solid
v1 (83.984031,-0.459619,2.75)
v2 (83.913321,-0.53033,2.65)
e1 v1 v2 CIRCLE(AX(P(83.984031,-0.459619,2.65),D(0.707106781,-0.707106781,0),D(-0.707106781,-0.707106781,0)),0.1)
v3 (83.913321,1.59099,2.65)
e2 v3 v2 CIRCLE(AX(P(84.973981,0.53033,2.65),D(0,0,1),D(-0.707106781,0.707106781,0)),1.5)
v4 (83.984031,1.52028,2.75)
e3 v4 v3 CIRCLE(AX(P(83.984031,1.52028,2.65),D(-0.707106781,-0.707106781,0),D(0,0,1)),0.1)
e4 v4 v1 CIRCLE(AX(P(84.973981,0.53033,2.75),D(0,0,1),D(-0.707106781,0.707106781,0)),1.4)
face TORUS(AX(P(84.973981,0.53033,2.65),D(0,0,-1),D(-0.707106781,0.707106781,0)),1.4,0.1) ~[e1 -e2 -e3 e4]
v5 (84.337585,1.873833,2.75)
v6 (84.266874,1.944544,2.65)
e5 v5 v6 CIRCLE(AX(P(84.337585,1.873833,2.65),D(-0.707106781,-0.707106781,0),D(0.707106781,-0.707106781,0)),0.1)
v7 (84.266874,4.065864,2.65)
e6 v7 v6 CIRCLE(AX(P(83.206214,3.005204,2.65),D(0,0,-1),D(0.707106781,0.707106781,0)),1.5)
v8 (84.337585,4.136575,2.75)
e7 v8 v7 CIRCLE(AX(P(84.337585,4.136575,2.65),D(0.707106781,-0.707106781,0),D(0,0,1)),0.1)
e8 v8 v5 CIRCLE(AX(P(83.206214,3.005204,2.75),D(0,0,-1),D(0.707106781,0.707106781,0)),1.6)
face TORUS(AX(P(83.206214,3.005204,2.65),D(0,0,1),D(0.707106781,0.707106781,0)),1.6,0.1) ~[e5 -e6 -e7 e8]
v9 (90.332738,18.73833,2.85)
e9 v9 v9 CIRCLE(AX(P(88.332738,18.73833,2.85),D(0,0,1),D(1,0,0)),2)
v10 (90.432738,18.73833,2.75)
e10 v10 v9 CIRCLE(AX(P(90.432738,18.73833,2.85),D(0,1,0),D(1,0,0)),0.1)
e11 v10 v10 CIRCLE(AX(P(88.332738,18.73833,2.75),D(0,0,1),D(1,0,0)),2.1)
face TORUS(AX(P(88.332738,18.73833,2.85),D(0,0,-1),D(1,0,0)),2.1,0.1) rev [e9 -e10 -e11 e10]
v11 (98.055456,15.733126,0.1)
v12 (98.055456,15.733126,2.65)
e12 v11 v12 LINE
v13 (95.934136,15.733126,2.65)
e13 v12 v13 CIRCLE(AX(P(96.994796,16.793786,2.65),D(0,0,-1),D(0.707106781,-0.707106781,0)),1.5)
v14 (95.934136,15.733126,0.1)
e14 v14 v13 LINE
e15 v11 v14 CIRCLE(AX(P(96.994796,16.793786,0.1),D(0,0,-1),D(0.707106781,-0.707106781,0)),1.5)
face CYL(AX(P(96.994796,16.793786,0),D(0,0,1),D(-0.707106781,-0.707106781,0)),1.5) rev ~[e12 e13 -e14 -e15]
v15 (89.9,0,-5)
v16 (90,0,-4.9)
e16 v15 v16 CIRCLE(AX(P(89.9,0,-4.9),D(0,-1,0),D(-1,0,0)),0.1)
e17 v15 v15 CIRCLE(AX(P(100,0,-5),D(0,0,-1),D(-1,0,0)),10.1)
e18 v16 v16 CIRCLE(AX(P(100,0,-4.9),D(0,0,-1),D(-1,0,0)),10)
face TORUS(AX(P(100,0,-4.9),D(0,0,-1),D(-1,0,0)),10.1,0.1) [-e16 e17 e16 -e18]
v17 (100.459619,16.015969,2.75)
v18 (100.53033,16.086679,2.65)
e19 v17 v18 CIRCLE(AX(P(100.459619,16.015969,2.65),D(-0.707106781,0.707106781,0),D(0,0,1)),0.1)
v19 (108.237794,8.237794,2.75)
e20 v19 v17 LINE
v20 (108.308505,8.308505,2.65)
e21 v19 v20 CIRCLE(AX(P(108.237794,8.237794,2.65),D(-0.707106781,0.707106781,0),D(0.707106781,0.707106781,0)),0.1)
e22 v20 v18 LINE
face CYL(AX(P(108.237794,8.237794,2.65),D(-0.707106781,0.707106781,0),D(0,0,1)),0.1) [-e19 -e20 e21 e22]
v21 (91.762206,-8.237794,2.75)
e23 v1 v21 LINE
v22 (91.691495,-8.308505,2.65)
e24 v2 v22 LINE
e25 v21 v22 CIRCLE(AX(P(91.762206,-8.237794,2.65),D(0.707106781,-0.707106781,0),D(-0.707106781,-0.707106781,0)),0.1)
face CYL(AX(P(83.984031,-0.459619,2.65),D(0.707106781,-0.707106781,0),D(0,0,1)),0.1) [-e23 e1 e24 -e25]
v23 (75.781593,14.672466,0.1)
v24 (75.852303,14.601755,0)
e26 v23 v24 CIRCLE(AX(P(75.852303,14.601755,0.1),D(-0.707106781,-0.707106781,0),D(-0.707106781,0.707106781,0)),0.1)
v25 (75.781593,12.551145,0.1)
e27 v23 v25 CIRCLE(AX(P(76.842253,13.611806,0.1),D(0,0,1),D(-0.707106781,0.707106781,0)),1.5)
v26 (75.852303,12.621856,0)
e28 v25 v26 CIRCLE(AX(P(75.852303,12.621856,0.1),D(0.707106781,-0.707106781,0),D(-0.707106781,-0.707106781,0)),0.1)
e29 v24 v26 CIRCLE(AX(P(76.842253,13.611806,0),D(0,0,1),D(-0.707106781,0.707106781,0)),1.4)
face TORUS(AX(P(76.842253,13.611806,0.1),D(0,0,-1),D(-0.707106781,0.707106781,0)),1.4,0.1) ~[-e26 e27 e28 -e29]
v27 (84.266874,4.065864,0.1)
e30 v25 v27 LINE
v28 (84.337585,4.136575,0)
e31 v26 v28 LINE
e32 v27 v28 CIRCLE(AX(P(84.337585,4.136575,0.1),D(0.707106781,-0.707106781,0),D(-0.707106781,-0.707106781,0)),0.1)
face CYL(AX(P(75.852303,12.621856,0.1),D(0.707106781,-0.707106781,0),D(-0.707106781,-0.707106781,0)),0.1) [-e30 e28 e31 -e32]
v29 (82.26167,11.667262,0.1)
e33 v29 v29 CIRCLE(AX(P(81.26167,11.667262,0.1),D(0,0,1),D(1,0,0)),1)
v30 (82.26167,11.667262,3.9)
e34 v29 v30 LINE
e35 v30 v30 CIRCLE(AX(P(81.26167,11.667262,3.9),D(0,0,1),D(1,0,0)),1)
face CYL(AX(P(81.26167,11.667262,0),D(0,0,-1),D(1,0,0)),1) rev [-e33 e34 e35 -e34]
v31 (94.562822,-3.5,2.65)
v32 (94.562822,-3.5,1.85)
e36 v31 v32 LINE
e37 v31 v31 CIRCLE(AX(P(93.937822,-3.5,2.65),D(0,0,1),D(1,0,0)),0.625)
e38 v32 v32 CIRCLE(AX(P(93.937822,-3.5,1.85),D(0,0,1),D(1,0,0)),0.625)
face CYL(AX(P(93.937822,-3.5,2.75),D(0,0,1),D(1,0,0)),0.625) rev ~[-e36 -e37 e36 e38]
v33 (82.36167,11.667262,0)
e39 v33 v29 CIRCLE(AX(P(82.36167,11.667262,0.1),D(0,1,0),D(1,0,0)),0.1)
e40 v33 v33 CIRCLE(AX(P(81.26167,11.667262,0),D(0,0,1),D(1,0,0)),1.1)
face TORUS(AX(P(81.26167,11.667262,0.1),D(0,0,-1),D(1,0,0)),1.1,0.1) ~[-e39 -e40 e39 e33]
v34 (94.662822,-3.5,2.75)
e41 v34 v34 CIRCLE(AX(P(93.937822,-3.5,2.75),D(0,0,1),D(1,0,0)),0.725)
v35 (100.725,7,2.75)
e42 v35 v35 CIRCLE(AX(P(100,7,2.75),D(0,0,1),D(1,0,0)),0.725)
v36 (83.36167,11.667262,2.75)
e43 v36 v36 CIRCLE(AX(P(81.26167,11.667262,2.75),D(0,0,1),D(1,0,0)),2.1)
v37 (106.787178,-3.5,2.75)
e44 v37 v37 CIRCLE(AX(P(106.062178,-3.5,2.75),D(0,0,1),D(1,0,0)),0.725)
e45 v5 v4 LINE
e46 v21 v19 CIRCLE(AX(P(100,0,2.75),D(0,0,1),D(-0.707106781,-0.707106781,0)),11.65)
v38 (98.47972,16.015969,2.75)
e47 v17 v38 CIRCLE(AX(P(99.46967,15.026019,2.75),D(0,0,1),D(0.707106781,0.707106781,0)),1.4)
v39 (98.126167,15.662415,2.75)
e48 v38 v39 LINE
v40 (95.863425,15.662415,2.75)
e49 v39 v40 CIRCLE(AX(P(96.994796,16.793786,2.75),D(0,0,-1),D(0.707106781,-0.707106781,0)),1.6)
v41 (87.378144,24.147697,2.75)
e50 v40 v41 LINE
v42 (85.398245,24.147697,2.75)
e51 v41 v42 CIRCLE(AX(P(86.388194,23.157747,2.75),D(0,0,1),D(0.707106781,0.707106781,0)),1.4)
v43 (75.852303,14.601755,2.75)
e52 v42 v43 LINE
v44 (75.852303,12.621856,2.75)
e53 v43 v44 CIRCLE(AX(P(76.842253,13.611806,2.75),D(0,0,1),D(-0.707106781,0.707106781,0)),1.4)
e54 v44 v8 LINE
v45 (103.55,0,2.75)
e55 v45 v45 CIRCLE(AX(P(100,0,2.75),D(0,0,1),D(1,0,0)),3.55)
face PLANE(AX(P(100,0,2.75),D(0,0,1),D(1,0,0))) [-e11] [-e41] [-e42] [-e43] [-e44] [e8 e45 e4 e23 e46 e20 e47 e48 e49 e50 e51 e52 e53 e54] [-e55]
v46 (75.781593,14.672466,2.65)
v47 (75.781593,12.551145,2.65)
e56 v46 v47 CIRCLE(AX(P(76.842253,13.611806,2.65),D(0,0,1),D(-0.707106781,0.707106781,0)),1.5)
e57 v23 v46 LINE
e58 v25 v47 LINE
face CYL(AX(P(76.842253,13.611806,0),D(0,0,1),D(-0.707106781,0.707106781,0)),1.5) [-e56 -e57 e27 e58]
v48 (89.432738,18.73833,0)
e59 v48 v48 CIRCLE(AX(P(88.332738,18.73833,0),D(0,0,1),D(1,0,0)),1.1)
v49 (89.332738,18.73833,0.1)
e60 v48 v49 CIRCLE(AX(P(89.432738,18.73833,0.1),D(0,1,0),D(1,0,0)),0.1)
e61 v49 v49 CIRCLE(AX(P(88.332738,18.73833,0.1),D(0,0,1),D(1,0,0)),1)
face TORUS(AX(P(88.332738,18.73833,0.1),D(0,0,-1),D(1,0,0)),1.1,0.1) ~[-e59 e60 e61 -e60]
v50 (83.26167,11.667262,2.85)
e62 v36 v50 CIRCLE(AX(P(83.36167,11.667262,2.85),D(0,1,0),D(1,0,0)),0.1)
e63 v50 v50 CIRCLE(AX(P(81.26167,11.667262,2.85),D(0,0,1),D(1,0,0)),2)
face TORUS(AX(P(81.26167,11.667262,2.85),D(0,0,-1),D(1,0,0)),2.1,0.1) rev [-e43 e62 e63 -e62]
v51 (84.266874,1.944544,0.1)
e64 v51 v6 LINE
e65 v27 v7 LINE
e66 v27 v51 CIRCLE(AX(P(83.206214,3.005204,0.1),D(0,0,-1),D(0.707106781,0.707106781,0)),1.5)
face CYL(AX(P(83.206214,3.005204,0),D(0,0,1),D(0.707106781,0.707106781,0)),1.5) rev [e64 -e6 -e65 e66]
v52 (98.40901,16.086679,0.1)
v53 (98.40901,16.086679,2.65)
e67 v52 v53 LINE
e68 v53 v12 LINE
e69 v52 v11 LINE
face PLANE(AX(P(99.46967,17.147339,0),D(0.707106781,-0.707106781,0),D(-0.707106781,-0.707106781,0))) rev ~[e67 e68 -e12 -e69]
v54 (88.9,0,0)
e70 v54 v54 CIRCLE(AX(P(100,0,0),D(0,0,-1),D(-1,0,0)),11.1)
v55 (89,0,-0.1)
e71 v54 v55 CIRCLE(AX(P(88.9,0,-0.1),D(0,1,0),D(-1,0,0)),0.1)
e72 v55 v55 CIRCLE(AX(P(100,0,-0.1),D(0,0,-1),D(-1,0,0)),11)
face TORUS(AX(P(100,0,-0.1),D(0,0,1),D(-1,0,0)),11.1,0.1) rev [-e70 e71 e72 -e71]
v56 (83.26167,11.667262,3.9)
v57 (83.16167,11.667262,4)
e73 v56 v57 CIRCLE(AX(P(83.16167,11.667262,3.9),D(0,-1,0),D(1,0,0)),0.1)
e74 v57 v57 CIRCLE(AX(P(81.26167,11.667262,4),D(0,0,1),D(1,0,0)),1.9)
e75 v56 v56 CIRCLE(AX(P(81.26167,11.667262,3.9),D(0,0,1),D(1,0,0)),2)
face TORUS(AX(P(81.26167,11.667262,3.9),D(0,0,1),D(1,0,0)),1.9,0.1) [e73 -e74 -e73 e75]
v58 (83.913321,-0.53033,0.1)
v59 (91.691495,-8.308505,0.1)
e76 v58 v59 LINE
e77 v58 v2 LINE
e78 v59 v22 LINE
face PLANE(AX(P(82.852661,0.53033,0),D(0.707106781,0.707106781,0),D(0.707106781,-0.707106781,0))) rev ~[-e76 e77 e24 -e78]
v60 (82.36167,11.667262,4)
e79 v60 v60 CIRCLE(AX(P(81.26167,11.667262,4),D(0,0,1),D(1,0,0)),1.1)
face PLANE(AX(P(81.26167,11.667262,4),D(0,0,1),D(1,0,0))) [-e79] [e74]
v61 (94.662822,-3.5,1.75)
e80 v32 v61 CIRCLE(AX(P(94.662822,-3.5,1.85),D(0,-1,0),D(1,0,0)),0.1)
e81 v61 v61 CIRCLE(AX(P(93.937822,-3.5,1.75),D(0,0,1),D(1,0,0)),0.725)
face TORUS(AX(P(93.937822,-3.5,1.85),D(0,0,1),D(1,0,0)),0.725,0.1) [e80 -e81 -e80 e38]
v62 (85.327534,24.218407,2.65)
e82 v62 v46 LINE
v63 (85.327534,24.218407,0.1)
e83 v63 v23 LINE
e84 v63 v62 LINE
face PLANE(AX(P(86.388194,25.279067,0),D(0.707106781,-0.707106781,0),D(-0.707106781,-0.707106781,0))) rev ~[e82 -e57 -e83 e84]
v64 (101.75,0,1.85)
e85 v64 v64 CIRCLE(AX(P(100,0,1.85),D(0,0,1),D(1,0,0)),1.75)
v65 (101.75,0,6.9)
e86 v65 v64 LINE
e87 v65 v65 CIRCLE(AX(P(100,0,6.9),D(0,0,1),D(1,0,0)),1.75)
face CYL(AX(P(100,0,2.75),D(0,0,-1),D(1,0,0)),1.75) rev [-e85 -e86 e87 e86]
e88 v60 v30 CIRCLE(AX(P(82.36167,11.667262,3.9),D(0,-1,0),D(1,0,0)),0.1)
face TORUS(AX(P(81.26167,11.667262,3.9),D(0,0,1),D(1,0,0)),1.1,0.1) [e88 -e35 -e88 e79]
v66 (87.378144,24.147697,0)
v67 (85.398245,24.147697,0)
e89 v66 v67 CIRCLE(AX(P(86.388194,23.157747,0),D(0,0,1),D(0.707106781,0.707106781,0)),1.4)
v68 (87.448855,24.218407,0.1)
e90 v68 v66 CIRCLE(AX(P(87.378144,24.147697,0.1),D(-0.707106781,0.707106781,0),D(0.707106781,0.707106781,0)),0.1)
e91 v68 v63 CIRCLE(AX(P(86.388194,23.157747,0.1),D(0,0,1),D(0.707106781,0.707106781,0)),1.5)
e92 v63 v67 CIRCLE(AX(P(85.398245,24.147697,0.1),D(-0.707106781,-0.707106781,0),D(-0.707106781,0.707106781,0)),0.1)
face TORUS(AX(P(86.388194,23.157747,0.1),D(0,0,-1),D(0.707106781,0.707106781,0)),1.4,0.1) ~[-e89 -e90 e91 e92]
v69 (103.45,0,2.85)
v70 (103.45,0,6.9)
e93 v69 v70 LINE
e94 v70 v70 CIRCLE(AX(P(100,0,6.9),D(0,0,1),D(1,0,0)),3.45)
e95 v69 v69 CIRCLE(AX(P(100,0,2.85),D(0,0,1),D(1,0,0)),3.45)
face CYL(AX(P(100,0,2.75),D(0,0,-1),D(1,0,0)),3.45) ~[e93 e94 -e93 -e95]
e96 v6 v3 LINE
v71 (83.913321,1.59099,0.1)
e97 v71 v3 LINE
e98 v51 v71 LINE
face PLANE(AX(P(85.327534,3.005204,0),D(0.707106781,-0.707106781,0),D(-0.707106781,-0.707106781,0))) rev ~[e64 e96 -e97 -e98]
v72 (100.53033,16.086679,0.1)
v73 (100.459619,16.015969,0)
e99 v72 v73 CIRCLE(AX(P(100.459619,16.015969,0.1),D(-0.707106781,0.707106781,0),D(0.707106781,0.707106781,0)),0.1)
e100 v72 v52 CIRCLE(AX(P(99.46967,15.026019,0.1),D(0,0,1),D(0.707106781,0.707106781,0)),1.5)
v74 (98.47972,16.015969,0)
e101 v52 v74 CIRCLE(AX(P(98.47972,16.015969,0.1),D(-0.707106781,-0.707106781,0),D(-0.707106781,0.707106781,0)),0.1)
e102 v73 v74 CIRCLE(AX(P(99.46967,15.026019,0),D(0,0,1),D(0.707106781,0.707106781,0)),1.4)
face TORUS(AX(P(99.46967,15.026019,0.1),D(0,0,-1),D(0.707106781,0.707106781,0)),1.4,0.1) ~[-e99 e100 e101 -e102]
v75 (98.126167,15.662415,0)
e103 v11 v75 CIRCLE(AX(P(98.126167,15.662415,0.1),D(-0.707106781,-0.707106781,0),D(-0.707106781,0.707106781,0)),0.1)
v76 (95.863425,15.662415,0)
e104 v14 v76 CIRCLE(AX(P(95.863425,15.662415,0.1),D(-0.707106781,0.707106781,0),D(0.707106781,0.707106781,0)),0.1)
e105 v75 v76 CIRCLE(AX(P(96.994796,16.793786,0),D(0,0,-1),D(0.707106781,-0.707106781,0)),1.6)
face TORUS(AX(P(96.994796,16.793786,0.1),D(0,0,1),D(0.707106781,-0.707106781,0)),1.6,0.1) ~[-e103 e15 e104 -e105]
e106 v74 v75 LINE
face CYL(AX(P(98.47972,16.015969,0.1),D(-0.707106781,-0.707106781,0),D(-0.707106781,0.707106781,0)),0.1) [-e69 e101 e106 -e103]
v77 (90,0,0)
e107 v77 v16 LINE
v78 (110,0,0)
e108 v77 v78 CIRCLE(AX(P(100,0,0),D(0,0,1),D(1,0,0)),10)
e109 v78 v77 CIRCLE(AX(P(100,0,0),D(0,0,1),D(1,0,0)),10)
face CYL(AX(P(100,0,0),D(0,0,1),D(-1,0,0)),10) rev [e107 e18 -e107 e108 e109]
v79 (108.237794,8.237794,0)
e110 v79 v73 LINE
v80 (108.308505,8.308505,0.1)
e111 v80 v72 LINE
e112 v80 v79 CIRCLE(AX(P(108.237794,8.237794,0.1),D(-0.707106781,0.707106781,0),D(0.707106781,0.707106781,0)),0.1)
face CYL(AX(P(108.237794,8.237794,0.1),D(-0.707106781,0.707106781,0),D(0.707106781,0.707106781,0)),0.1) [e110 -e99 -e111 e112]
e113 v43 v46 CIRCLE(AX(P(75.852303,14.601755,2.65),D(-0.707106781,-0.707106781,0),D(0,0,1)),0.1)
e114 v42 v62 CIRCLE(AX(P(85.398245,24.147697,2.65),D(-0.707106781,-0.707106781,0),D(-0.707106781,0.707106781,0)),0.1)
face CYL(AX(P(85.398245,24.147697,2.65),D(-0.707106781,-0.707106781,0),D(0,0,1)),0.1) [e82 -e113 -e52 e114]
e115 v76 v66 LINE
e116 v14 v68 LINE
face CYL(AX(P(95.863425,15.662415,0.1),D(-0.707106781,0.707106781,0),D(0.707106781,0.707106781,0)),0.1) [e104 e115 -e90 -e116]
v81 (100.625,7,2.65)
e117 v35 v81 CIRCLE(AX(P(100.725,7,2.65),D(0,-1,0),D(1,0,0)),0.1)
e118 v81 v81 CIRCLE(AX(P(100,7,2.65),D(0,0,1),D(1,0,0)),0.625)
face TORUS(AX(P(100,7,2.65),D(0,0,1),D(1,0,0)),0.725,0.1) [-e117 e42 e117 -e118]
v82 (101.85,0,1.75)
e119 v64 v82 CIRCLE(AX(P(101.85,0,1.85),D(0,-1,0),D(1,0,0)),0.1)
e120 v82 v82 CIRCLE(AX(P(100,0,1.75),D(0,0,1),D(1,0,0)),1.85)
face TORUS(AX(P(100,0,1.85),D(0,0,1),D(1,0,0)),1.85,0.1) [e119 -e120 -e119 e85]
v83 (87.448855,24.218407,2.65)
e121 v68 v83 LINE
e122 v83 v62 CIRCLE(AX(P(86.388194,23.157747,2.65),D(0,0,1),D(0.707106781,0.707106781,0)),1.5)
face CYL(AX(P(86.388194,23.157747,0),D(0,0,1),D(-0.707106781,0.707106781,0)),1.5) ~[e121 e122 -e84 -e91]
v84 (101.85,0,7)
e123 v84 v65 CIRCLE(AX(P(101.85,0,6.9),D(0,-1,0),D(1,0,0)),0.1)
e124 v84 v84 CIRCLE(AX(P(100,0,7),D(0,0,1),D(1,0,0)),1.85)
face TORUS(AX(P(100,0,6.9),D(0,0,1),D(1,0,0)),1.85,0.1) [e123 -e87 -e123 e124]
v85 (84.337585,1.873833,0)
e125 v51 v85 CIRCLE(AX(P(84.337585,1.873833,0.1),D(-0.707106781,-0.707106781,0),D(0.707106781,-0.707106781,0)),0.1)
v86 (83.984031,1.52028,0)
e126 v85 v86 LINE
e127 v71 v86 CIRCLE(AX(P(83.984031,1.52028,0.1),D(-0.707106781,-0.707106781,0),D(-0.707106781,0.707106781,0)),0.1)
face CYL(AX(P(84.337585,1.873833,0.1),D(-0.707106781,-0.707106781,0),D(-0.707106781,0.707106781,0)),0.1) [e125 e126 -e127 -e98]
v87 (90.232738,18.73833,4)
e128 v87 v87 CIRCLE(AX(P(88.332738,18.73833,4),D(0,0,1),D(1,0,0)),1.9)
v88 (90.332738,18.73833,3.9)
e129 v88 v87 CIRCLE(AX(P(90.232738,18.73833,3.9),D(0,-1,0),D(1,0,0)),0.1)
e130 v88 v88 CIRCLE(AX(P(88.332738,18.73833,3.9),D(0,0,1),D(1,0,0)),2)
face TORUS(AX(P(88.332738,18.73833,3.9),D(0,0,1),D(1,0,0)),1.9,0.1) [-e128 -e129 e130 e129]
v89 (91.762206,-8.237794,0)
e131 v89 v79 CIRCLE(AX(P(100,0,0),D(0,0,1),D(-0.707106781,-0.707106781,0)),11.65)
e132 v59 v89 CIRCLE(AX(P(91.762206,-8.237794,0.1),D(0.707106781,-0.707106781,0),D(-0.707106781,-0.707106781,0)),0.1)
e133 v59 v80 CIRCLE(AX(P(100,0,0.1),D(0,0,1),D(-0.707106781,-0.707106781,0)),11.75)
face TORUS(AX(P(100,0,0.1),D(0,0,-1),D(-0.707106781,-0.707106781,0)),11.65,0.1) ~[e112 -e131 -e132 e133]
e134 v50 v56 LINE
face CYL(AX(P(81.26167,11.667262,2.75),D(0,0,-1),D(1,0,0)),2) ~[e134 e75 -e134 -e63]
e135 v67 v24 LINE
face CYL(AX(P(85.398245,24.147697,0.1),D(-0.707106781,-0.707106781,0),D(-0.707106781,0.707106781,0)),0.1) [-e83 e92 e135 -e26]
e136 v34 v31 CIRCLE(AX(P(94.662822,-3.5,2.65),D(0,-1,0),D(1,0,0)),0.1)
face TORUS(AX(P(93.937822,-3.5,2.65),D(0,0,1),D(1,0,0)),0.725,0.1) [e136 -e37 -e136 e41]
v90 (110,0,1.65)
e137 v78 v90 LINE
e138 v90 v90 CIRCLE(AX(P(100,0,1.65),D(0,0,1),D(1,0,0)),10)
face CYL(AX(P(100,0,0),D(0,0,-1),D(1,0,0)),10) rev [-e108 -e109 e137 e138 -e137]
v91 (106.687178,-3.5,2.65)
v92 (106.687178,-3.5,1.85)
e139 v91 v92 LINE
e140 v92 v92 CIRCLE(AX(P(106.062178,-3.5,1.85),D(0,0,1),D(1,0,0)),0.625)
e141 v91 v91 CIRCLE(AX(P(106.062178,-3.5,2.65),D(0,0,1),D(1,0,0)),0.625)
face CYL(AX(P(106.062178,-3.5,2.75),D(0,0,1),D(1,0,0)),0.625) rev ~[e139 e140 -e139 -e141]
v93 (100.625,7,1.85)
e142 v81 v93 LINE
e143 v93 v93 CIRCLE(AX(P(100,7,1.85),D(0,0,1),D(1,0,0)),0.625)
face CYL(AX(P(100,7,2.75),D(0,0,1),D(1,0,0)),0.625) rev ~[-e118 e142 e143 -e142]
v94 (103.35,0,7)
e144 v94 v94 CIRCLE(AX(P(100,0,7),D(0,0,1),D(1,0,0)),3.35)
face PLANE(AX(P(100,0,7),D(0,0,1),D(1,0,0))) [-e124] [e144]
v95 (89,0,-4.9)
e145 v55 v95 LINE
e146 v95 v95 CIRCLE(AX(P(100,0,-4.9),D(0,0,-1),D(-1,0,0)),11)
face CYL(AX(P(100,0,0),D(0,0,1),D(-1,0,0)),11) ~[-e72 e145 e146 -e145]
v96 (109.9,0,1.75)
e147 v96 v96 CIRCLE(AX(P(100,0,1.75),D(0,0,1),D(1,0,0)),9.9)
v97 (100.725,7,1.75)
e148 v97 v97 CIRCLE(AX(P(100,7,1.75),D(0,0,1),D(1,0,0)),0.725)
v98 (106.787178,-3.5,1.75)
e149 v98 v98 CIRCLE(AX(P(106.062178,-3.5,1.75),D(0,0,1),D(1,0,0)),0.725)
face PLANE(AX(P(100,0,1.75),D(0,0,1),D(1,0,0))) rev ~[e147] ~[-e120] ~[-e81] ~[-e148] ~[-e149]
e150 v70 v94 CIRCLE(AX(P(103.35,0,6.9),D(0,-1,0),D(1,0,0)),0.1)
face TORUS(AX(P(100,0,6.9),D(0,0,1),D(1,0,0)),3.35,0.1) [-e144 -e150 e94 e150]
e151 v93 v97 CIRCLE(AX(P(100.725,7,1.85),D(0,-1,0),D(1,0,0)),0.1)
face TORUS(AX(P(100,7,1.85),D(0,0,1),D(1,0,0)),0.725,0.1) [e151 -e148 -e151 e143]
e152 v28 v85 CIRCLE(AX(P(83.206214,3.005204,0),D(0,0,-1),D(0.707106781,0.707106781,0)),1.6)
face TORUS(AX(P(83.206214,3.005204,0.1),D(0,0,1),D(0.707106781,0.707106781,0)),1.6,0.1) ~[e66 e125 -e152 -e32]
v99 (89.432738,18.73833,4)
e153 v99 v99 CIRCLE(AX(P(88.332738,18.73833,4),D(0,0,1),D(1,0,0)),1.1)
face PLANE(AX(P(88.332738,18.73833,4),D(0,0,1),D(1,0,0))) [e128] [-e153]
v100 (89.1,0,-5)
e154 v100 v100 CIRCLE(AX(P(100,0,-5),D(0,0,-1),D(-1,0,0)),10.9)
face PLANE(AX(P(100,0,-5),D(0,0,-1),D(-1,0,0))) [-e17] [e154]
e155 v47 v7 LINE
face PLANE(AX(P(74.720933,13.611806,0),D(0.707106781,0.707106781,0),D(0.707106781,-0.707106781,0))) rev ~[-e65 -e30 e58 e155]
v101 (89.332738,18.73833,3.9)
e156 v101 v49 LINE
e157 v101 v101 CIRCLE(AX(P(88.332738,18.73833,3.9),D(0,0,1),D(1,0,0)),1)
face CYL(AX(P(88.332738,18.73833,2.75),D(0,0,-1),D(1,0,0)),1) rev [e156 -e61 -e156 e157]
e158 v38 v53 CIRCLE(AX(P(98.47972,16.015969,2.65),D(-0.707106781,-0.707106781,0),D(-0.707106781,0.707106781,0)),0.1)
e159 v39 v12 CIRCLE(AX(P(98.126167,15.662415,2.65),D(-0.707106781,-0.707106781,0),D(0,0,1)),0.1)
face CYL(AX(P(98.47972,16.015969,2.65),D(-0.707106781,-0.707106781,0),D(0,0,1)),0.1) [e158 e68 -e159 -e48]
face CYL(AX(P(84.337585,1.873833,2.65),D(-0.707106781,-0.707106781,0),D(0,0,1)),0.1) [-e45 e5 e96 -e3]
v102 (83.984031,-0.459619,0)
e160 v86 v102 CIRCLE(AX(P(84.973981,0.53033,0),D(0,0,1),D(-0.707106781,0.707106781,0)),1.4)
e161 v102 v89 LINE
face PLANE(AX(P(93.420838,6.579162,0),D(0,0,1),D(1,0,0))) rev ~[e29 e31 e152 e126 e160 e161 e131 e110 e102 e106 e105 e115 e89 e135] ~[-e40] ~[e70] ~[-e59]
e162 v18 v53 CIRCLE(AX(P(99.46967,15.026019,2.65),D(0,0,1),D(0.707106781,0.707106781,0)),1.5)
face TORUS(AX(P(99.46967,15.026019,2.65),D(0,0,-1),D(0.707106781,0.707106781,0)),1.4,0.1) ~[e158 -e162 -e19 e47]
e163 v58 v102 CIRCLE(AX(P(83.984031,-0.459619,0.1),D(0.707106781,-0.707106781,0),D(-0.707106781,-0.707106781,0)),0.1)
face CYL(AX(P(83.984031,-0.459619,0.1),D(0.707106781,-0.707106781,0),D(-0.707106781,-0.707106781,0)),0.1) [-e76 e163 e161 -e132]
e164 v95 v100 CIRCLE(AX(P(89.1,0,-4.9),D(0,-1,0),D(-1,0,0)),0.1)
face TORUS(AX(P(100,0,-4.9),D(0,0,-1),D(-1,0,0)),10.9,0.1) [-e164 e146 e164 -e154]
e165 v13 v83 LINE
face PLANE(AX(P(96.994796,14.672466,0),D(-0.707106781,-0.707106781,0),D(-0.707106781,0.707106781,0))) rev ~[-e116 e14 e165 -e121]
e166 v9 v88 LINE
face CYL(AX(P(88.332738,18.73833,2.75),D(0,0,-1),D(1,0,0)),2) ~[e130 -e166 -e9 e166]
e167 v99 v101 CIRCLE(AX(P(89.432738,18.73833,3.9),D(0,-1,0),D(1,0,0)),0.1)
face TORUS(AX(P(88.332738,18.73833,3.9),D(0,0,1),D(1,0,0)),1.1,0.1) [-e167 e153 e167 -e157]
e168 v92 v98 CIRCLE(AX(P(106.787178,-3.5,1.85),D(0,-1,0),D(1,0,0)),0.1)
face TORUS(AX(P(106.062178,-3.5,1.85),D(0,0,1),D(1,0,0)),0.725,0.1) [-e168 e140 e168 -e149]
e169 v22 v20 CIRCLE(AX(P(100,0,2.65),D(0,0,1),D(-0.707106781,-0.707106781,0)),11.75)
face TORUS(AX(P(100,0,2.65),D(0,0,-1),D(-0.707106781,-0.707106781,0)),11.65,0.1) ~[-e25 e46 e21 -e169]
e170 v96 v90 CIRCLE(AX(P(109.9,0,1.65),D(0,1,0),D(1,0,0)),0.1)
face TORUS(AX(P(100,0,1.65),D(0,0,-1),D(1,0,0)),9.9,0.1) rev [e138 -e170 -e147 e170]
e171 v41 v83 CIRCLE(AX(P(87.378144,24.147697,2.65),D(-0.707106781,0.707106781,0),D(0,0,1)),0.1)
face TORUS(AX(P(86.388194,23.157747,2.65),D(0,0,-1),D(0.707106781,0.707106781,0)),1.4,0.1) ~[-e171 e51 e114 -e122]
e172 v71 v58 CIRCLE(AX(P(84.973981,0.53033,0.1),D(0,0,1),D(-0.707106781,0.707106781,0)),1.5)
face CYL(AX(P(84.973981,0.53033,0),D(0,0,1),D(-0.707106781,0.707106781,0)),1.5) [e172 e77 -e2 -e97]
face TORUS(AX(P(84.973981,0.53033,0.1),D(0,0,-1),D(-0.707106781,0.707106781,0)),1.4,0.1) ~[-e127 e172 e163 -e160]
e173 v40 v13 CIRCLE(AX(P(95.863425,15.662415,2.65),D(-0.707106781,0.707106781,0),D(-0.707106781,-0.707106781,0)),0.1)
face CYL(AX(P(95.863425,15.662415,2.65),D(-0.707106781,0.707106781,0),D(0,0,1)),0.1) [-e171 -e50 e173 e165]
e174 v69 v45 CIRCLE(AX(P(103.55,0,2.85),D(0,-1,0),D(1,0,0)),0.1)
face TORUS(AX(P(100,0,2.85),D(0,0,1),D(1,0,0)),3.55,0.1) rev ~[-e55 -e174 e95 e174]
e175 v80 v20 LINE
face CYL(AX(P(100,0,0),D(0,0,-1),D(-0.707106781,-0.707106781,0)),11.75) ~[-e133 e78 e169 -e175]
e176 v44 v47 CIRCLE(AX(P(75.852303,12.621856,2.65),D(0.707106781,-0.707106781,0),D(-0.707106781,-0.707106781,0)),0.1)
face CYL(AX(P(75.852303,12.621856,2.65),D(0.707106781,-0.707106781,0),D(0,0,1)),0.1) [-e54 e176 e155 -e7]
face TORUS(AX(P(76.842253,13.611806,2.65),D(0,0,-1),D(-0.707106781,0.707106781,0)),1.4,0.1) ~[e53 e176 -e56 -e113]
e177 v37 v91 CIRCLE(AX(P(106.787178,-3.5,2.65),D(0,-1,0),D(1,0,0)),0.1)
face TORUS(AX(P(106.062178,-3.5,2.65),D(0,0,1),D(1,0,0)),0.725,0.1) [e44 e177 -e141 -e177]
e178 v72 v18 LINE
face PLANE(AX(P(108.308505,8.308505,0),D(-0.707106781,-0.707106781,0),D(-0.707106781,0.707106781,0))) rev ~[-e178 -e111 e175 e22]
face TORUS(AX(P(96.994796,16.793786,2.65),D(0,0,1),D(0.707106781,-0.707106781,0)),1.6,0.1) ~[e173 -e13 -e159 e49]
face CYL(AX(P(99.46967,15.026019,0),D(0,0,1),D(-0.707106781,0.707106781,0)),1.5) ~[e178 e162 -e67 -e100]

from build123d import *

# Parameters (mm, degrees)
SKETCH3_R           = 10
BOSS_EXTRUDE1_DEPTH = 2.75
SKETCH5_R           = 1
CUT_EXTRUDE1_DEPTH  = 2.75
SKETCH9_R           = 10
BOSS_EXTRUDE3_DEPTH = 1
SKETCH10_R          = 11
SKETCH10_R_2        = 10
BOSS_EXTRUDE4_DEPTH = 5
FILLET1_R           = 1.5
SKETCH11_R          = 2
SKETCH11_R_2        = 1
BOSS_EXTRUDE5_DEPTH = 1.25
SKETCH12_R          = 1.75
CUT_EXTRUDE2_DEPTH  = 1
SKETCH13_R          = 3.45
SKETCH13_R_2        = 1.75
BOSS_EXTRUDE6_DEPTH = 4.25
SKETCH14_R          = 0.625
CUT_EXTRUDE3_DEPTH  = 1
FILLET2_R           = 0.1


with BuildPart() as part:
    # Sketch3 → Boss-Extrude1 (new body)
    with BuildSketch(Plane.XY):
        with BuildLine():
            Line((86.388194462, 25.279067427), (74.720932573, 13.611805538))
            Line((74.720932573, 13.611805538), (85.32753429, 3.00520382))
            Line((85.32753429, 3.00520382), (82.852660556, 0.530330086))
            Line((82.852660556, 0.530330086), (91.691495321, -8.308504679))
            ThreePointArc((91.691495321, -8.308504679), (108.308504679, -8.308504679), (108.308504679, 8.308504679))
            Line((108.308504679, 8.308504679), (99.469669914, 17.147339444))
            Line((99.469669914, 17.147339444), (96.99479618, 14.67246571))
            Line((96.99479618, 14.67246571), (86.388194462, 25.279067427))
        make_face()
        with Locations((100, 0)):
            Circle(SKETCH3_R, mode=Mode.SUBTRACT)
    extrude(amount=BOSS_EXTRUDE1_DEPTH)

    # Sketch5 → Cut-Extrude1 (cut)
    with BuildSketch(Plane.XY):
        with Locations((81.261670351, 11.667261837)):
            Circle(SKETCH5_R)
        with Locations((88.332738163, 18.738329649)):
            Circle(SKETCH5_R)
    extrude(amount=CUT_EXTRUDE1_DEPTH, mode=Mode.SUBTRACT)

    # Sketch9 → Boss-Extrude3 (add)
    with BuildSketch(Plane.XY.offset(2.75)):
        with Locations((100, 0)):
            Circle(SKETCH9_R)
    extrude(amount=-BOSS_EXTRUDE3_DEPTH)

    # Sketch10 → Boss-Extrude4 (add)
    with BuildSketch(Plane(origin=(0, 0, 0), x_dir=(-1, 0, 0), z_dir=(0, 0, -1))):
        with Locations((-100, 0)):
            Circle(SKETCH10_R)
        with Locations((-100, 0)):
            Circle(SKETCH10_R_2, mode=Mode.SUBTRACT)
    extrude(amount=BOSS_EXTRUDE4_DEPTH)

    # Fillet1
    fillet1_edges = [part.edges().sort_by_distance(p)[0] for p in [
        (96.99479618, 14.67246571, 1.375),
        (99.469669914, 17.147339444, 1.375),
        (82.852660556, 0.530330086, 1.375),
        (85.32753429, 3.00520382, 1.375),
        (74.720932573, 13.611805538, 1.375),
        (86.388194462, 25.279067427, 1.375),
    ]]
    fillet(fillet1_edges, radius=FILLET1_R)

    # Sketch11 → Boss-Extrude5 (add)
    with BuildSketch(Plane.XY.offset(2.75)):
        with Locations((88.332738163, 18.738329649)):
            Circle(SKETCH11_R)
        with Locations((88.332738163, 18.738329649)):
            Circle(SKETCH11_R_2, mode=Mode.SUBTRACT)
        with Locations((81.261670351, 11.667261837)):
            Circle(SKETCH11_R)
        with Locations((81.261670351, 11.667261837)):
            Circle(SKETCH11_R_2, mode=Mode.SUBTRACT)
    extrude(amount=BOSS_EXTRUDE5_DEPTH)

    # Sketch12 → Cut-Extrude2 (cut)
    with BuildSketch(Plane.XY.offset(2.75)):
        with Locations((100, 0)):
            Circle(SKETCH12_R)
    extrude(amount=-CUT_EXTRUDE2_DEPTH, mode=Mode.SUBTRACT)

    # Sketch13 → Boss-Extrude6 (add)
    with BuildSketch(Plane.XY.offset(2.75)):
        with Locations((100, 0)):
            Circle(SKETCH13_R)
        with Locations((100, 0)):
            Circle(SKETCH13_R_2, mode=Mode.SUBTRACT)
    extrude(amount=BOSS_EXTRUDE6_DEPTH)

    # Sketch14 → Cut-Extrude3 (cut)
    with BuildSketch(Plane.XY.offset(2.75)):
        with Locations((100, 7)):
            Circle(SKETCH14_R)
        with Locations((106.062177826, -3.5)):
            Circle(SKETCH14_R)
        with Locations((93.937822174, -3.5)):
            Circle(SKETCH14_R)
    extrude(amount=-CUT_EXTRUDE3_DEPTH, mode=Mode.SUBTRACT)

    # Fillet2
    fillet2_edges = [part.edges().sort_by_distance(p)[0] for p in [
        (98.25, 0, 1.75),
        (96.55, 0, 7),
        (96.55, 0, 2.75),
        (98.25, 0, 7),
        (99.375, 7, 2.75),
        (99.375, 7, 1.75),
        (105.437177826, -3.5, 2.75),
        (105.437177826, -3.5, 1.75),
        (93.312822174, -3.5, 2.75),
        (93.312822174, -3.5, 1.75),
        (108.308504679, -8.308504679, 2.75),
        (104.419417382, 12.197591975, 2.75),
        (80.261670351, 11.667261837, 0),
        (87.332738163, 18.738329649, 0),
        (90, 0, 1.75),
        (111, 0, 0),
        (111, 0, -5),
        (110, 0, -5),
        (91.691495321, 19.975766569, 0),
        (91.691495321, 19.975766569, 2.75),
        (98.232233047, 15.909902577, 0),
        (98.232233047, 15.909902577, 2.75),
        (87.802408025, -4.419417382, 0),
        (84.090097423, 1.767766953, 0),
        (80.024233431, 8.308504679, 0),
        (80.554563517, 19.445436483, 0),
        (86.388194462, 24.657747084, 0),
        (75.342252916, 13.611805538, 0),
        (83.4739809, 0.530330086, 0),
        (99.469669914, 16.5260191, 0),
        (80.554563517, 19.445436483, 2.75),
        (80.024233431, 8.308504679, 2.75),
        (84.090097423, 1.767766953, 2.75),
        (87.802408025, -4.419417382, 2.75),
        (86.388194462, 24.657747084, 2.75),
        (75.342252916, 13.611805538, 2.75),
        (83.4739809, 0.530330086, 2.75),
        (99.469669914, 16.5260191, 2.75),
        (96.99479618, 15.293786053, 0),
        (96.99479618, 15.293786053, 2.75),
        (84.706213947, 3.00520382, 0),
        (84.706213947, 3.00520382, 2.75),
        (104.419417382, 12.197591975, 0),
        (86.332738163, 18.738329649, 4),
        (86.332738163, 18.738329649, 2.75),
        (87.332738163, 18.738329649, 4),
        (108.308504679, -8.308504679, 0),
        (79.261670351, 11.667261837, 4),
        (79.261670351, 11.667261837, 2.75),
        (80.261670351, 11.667261837, 4),
    ]]
    fillet(fillet2_edges, radius=FILLET2_R)


solid = part.part
